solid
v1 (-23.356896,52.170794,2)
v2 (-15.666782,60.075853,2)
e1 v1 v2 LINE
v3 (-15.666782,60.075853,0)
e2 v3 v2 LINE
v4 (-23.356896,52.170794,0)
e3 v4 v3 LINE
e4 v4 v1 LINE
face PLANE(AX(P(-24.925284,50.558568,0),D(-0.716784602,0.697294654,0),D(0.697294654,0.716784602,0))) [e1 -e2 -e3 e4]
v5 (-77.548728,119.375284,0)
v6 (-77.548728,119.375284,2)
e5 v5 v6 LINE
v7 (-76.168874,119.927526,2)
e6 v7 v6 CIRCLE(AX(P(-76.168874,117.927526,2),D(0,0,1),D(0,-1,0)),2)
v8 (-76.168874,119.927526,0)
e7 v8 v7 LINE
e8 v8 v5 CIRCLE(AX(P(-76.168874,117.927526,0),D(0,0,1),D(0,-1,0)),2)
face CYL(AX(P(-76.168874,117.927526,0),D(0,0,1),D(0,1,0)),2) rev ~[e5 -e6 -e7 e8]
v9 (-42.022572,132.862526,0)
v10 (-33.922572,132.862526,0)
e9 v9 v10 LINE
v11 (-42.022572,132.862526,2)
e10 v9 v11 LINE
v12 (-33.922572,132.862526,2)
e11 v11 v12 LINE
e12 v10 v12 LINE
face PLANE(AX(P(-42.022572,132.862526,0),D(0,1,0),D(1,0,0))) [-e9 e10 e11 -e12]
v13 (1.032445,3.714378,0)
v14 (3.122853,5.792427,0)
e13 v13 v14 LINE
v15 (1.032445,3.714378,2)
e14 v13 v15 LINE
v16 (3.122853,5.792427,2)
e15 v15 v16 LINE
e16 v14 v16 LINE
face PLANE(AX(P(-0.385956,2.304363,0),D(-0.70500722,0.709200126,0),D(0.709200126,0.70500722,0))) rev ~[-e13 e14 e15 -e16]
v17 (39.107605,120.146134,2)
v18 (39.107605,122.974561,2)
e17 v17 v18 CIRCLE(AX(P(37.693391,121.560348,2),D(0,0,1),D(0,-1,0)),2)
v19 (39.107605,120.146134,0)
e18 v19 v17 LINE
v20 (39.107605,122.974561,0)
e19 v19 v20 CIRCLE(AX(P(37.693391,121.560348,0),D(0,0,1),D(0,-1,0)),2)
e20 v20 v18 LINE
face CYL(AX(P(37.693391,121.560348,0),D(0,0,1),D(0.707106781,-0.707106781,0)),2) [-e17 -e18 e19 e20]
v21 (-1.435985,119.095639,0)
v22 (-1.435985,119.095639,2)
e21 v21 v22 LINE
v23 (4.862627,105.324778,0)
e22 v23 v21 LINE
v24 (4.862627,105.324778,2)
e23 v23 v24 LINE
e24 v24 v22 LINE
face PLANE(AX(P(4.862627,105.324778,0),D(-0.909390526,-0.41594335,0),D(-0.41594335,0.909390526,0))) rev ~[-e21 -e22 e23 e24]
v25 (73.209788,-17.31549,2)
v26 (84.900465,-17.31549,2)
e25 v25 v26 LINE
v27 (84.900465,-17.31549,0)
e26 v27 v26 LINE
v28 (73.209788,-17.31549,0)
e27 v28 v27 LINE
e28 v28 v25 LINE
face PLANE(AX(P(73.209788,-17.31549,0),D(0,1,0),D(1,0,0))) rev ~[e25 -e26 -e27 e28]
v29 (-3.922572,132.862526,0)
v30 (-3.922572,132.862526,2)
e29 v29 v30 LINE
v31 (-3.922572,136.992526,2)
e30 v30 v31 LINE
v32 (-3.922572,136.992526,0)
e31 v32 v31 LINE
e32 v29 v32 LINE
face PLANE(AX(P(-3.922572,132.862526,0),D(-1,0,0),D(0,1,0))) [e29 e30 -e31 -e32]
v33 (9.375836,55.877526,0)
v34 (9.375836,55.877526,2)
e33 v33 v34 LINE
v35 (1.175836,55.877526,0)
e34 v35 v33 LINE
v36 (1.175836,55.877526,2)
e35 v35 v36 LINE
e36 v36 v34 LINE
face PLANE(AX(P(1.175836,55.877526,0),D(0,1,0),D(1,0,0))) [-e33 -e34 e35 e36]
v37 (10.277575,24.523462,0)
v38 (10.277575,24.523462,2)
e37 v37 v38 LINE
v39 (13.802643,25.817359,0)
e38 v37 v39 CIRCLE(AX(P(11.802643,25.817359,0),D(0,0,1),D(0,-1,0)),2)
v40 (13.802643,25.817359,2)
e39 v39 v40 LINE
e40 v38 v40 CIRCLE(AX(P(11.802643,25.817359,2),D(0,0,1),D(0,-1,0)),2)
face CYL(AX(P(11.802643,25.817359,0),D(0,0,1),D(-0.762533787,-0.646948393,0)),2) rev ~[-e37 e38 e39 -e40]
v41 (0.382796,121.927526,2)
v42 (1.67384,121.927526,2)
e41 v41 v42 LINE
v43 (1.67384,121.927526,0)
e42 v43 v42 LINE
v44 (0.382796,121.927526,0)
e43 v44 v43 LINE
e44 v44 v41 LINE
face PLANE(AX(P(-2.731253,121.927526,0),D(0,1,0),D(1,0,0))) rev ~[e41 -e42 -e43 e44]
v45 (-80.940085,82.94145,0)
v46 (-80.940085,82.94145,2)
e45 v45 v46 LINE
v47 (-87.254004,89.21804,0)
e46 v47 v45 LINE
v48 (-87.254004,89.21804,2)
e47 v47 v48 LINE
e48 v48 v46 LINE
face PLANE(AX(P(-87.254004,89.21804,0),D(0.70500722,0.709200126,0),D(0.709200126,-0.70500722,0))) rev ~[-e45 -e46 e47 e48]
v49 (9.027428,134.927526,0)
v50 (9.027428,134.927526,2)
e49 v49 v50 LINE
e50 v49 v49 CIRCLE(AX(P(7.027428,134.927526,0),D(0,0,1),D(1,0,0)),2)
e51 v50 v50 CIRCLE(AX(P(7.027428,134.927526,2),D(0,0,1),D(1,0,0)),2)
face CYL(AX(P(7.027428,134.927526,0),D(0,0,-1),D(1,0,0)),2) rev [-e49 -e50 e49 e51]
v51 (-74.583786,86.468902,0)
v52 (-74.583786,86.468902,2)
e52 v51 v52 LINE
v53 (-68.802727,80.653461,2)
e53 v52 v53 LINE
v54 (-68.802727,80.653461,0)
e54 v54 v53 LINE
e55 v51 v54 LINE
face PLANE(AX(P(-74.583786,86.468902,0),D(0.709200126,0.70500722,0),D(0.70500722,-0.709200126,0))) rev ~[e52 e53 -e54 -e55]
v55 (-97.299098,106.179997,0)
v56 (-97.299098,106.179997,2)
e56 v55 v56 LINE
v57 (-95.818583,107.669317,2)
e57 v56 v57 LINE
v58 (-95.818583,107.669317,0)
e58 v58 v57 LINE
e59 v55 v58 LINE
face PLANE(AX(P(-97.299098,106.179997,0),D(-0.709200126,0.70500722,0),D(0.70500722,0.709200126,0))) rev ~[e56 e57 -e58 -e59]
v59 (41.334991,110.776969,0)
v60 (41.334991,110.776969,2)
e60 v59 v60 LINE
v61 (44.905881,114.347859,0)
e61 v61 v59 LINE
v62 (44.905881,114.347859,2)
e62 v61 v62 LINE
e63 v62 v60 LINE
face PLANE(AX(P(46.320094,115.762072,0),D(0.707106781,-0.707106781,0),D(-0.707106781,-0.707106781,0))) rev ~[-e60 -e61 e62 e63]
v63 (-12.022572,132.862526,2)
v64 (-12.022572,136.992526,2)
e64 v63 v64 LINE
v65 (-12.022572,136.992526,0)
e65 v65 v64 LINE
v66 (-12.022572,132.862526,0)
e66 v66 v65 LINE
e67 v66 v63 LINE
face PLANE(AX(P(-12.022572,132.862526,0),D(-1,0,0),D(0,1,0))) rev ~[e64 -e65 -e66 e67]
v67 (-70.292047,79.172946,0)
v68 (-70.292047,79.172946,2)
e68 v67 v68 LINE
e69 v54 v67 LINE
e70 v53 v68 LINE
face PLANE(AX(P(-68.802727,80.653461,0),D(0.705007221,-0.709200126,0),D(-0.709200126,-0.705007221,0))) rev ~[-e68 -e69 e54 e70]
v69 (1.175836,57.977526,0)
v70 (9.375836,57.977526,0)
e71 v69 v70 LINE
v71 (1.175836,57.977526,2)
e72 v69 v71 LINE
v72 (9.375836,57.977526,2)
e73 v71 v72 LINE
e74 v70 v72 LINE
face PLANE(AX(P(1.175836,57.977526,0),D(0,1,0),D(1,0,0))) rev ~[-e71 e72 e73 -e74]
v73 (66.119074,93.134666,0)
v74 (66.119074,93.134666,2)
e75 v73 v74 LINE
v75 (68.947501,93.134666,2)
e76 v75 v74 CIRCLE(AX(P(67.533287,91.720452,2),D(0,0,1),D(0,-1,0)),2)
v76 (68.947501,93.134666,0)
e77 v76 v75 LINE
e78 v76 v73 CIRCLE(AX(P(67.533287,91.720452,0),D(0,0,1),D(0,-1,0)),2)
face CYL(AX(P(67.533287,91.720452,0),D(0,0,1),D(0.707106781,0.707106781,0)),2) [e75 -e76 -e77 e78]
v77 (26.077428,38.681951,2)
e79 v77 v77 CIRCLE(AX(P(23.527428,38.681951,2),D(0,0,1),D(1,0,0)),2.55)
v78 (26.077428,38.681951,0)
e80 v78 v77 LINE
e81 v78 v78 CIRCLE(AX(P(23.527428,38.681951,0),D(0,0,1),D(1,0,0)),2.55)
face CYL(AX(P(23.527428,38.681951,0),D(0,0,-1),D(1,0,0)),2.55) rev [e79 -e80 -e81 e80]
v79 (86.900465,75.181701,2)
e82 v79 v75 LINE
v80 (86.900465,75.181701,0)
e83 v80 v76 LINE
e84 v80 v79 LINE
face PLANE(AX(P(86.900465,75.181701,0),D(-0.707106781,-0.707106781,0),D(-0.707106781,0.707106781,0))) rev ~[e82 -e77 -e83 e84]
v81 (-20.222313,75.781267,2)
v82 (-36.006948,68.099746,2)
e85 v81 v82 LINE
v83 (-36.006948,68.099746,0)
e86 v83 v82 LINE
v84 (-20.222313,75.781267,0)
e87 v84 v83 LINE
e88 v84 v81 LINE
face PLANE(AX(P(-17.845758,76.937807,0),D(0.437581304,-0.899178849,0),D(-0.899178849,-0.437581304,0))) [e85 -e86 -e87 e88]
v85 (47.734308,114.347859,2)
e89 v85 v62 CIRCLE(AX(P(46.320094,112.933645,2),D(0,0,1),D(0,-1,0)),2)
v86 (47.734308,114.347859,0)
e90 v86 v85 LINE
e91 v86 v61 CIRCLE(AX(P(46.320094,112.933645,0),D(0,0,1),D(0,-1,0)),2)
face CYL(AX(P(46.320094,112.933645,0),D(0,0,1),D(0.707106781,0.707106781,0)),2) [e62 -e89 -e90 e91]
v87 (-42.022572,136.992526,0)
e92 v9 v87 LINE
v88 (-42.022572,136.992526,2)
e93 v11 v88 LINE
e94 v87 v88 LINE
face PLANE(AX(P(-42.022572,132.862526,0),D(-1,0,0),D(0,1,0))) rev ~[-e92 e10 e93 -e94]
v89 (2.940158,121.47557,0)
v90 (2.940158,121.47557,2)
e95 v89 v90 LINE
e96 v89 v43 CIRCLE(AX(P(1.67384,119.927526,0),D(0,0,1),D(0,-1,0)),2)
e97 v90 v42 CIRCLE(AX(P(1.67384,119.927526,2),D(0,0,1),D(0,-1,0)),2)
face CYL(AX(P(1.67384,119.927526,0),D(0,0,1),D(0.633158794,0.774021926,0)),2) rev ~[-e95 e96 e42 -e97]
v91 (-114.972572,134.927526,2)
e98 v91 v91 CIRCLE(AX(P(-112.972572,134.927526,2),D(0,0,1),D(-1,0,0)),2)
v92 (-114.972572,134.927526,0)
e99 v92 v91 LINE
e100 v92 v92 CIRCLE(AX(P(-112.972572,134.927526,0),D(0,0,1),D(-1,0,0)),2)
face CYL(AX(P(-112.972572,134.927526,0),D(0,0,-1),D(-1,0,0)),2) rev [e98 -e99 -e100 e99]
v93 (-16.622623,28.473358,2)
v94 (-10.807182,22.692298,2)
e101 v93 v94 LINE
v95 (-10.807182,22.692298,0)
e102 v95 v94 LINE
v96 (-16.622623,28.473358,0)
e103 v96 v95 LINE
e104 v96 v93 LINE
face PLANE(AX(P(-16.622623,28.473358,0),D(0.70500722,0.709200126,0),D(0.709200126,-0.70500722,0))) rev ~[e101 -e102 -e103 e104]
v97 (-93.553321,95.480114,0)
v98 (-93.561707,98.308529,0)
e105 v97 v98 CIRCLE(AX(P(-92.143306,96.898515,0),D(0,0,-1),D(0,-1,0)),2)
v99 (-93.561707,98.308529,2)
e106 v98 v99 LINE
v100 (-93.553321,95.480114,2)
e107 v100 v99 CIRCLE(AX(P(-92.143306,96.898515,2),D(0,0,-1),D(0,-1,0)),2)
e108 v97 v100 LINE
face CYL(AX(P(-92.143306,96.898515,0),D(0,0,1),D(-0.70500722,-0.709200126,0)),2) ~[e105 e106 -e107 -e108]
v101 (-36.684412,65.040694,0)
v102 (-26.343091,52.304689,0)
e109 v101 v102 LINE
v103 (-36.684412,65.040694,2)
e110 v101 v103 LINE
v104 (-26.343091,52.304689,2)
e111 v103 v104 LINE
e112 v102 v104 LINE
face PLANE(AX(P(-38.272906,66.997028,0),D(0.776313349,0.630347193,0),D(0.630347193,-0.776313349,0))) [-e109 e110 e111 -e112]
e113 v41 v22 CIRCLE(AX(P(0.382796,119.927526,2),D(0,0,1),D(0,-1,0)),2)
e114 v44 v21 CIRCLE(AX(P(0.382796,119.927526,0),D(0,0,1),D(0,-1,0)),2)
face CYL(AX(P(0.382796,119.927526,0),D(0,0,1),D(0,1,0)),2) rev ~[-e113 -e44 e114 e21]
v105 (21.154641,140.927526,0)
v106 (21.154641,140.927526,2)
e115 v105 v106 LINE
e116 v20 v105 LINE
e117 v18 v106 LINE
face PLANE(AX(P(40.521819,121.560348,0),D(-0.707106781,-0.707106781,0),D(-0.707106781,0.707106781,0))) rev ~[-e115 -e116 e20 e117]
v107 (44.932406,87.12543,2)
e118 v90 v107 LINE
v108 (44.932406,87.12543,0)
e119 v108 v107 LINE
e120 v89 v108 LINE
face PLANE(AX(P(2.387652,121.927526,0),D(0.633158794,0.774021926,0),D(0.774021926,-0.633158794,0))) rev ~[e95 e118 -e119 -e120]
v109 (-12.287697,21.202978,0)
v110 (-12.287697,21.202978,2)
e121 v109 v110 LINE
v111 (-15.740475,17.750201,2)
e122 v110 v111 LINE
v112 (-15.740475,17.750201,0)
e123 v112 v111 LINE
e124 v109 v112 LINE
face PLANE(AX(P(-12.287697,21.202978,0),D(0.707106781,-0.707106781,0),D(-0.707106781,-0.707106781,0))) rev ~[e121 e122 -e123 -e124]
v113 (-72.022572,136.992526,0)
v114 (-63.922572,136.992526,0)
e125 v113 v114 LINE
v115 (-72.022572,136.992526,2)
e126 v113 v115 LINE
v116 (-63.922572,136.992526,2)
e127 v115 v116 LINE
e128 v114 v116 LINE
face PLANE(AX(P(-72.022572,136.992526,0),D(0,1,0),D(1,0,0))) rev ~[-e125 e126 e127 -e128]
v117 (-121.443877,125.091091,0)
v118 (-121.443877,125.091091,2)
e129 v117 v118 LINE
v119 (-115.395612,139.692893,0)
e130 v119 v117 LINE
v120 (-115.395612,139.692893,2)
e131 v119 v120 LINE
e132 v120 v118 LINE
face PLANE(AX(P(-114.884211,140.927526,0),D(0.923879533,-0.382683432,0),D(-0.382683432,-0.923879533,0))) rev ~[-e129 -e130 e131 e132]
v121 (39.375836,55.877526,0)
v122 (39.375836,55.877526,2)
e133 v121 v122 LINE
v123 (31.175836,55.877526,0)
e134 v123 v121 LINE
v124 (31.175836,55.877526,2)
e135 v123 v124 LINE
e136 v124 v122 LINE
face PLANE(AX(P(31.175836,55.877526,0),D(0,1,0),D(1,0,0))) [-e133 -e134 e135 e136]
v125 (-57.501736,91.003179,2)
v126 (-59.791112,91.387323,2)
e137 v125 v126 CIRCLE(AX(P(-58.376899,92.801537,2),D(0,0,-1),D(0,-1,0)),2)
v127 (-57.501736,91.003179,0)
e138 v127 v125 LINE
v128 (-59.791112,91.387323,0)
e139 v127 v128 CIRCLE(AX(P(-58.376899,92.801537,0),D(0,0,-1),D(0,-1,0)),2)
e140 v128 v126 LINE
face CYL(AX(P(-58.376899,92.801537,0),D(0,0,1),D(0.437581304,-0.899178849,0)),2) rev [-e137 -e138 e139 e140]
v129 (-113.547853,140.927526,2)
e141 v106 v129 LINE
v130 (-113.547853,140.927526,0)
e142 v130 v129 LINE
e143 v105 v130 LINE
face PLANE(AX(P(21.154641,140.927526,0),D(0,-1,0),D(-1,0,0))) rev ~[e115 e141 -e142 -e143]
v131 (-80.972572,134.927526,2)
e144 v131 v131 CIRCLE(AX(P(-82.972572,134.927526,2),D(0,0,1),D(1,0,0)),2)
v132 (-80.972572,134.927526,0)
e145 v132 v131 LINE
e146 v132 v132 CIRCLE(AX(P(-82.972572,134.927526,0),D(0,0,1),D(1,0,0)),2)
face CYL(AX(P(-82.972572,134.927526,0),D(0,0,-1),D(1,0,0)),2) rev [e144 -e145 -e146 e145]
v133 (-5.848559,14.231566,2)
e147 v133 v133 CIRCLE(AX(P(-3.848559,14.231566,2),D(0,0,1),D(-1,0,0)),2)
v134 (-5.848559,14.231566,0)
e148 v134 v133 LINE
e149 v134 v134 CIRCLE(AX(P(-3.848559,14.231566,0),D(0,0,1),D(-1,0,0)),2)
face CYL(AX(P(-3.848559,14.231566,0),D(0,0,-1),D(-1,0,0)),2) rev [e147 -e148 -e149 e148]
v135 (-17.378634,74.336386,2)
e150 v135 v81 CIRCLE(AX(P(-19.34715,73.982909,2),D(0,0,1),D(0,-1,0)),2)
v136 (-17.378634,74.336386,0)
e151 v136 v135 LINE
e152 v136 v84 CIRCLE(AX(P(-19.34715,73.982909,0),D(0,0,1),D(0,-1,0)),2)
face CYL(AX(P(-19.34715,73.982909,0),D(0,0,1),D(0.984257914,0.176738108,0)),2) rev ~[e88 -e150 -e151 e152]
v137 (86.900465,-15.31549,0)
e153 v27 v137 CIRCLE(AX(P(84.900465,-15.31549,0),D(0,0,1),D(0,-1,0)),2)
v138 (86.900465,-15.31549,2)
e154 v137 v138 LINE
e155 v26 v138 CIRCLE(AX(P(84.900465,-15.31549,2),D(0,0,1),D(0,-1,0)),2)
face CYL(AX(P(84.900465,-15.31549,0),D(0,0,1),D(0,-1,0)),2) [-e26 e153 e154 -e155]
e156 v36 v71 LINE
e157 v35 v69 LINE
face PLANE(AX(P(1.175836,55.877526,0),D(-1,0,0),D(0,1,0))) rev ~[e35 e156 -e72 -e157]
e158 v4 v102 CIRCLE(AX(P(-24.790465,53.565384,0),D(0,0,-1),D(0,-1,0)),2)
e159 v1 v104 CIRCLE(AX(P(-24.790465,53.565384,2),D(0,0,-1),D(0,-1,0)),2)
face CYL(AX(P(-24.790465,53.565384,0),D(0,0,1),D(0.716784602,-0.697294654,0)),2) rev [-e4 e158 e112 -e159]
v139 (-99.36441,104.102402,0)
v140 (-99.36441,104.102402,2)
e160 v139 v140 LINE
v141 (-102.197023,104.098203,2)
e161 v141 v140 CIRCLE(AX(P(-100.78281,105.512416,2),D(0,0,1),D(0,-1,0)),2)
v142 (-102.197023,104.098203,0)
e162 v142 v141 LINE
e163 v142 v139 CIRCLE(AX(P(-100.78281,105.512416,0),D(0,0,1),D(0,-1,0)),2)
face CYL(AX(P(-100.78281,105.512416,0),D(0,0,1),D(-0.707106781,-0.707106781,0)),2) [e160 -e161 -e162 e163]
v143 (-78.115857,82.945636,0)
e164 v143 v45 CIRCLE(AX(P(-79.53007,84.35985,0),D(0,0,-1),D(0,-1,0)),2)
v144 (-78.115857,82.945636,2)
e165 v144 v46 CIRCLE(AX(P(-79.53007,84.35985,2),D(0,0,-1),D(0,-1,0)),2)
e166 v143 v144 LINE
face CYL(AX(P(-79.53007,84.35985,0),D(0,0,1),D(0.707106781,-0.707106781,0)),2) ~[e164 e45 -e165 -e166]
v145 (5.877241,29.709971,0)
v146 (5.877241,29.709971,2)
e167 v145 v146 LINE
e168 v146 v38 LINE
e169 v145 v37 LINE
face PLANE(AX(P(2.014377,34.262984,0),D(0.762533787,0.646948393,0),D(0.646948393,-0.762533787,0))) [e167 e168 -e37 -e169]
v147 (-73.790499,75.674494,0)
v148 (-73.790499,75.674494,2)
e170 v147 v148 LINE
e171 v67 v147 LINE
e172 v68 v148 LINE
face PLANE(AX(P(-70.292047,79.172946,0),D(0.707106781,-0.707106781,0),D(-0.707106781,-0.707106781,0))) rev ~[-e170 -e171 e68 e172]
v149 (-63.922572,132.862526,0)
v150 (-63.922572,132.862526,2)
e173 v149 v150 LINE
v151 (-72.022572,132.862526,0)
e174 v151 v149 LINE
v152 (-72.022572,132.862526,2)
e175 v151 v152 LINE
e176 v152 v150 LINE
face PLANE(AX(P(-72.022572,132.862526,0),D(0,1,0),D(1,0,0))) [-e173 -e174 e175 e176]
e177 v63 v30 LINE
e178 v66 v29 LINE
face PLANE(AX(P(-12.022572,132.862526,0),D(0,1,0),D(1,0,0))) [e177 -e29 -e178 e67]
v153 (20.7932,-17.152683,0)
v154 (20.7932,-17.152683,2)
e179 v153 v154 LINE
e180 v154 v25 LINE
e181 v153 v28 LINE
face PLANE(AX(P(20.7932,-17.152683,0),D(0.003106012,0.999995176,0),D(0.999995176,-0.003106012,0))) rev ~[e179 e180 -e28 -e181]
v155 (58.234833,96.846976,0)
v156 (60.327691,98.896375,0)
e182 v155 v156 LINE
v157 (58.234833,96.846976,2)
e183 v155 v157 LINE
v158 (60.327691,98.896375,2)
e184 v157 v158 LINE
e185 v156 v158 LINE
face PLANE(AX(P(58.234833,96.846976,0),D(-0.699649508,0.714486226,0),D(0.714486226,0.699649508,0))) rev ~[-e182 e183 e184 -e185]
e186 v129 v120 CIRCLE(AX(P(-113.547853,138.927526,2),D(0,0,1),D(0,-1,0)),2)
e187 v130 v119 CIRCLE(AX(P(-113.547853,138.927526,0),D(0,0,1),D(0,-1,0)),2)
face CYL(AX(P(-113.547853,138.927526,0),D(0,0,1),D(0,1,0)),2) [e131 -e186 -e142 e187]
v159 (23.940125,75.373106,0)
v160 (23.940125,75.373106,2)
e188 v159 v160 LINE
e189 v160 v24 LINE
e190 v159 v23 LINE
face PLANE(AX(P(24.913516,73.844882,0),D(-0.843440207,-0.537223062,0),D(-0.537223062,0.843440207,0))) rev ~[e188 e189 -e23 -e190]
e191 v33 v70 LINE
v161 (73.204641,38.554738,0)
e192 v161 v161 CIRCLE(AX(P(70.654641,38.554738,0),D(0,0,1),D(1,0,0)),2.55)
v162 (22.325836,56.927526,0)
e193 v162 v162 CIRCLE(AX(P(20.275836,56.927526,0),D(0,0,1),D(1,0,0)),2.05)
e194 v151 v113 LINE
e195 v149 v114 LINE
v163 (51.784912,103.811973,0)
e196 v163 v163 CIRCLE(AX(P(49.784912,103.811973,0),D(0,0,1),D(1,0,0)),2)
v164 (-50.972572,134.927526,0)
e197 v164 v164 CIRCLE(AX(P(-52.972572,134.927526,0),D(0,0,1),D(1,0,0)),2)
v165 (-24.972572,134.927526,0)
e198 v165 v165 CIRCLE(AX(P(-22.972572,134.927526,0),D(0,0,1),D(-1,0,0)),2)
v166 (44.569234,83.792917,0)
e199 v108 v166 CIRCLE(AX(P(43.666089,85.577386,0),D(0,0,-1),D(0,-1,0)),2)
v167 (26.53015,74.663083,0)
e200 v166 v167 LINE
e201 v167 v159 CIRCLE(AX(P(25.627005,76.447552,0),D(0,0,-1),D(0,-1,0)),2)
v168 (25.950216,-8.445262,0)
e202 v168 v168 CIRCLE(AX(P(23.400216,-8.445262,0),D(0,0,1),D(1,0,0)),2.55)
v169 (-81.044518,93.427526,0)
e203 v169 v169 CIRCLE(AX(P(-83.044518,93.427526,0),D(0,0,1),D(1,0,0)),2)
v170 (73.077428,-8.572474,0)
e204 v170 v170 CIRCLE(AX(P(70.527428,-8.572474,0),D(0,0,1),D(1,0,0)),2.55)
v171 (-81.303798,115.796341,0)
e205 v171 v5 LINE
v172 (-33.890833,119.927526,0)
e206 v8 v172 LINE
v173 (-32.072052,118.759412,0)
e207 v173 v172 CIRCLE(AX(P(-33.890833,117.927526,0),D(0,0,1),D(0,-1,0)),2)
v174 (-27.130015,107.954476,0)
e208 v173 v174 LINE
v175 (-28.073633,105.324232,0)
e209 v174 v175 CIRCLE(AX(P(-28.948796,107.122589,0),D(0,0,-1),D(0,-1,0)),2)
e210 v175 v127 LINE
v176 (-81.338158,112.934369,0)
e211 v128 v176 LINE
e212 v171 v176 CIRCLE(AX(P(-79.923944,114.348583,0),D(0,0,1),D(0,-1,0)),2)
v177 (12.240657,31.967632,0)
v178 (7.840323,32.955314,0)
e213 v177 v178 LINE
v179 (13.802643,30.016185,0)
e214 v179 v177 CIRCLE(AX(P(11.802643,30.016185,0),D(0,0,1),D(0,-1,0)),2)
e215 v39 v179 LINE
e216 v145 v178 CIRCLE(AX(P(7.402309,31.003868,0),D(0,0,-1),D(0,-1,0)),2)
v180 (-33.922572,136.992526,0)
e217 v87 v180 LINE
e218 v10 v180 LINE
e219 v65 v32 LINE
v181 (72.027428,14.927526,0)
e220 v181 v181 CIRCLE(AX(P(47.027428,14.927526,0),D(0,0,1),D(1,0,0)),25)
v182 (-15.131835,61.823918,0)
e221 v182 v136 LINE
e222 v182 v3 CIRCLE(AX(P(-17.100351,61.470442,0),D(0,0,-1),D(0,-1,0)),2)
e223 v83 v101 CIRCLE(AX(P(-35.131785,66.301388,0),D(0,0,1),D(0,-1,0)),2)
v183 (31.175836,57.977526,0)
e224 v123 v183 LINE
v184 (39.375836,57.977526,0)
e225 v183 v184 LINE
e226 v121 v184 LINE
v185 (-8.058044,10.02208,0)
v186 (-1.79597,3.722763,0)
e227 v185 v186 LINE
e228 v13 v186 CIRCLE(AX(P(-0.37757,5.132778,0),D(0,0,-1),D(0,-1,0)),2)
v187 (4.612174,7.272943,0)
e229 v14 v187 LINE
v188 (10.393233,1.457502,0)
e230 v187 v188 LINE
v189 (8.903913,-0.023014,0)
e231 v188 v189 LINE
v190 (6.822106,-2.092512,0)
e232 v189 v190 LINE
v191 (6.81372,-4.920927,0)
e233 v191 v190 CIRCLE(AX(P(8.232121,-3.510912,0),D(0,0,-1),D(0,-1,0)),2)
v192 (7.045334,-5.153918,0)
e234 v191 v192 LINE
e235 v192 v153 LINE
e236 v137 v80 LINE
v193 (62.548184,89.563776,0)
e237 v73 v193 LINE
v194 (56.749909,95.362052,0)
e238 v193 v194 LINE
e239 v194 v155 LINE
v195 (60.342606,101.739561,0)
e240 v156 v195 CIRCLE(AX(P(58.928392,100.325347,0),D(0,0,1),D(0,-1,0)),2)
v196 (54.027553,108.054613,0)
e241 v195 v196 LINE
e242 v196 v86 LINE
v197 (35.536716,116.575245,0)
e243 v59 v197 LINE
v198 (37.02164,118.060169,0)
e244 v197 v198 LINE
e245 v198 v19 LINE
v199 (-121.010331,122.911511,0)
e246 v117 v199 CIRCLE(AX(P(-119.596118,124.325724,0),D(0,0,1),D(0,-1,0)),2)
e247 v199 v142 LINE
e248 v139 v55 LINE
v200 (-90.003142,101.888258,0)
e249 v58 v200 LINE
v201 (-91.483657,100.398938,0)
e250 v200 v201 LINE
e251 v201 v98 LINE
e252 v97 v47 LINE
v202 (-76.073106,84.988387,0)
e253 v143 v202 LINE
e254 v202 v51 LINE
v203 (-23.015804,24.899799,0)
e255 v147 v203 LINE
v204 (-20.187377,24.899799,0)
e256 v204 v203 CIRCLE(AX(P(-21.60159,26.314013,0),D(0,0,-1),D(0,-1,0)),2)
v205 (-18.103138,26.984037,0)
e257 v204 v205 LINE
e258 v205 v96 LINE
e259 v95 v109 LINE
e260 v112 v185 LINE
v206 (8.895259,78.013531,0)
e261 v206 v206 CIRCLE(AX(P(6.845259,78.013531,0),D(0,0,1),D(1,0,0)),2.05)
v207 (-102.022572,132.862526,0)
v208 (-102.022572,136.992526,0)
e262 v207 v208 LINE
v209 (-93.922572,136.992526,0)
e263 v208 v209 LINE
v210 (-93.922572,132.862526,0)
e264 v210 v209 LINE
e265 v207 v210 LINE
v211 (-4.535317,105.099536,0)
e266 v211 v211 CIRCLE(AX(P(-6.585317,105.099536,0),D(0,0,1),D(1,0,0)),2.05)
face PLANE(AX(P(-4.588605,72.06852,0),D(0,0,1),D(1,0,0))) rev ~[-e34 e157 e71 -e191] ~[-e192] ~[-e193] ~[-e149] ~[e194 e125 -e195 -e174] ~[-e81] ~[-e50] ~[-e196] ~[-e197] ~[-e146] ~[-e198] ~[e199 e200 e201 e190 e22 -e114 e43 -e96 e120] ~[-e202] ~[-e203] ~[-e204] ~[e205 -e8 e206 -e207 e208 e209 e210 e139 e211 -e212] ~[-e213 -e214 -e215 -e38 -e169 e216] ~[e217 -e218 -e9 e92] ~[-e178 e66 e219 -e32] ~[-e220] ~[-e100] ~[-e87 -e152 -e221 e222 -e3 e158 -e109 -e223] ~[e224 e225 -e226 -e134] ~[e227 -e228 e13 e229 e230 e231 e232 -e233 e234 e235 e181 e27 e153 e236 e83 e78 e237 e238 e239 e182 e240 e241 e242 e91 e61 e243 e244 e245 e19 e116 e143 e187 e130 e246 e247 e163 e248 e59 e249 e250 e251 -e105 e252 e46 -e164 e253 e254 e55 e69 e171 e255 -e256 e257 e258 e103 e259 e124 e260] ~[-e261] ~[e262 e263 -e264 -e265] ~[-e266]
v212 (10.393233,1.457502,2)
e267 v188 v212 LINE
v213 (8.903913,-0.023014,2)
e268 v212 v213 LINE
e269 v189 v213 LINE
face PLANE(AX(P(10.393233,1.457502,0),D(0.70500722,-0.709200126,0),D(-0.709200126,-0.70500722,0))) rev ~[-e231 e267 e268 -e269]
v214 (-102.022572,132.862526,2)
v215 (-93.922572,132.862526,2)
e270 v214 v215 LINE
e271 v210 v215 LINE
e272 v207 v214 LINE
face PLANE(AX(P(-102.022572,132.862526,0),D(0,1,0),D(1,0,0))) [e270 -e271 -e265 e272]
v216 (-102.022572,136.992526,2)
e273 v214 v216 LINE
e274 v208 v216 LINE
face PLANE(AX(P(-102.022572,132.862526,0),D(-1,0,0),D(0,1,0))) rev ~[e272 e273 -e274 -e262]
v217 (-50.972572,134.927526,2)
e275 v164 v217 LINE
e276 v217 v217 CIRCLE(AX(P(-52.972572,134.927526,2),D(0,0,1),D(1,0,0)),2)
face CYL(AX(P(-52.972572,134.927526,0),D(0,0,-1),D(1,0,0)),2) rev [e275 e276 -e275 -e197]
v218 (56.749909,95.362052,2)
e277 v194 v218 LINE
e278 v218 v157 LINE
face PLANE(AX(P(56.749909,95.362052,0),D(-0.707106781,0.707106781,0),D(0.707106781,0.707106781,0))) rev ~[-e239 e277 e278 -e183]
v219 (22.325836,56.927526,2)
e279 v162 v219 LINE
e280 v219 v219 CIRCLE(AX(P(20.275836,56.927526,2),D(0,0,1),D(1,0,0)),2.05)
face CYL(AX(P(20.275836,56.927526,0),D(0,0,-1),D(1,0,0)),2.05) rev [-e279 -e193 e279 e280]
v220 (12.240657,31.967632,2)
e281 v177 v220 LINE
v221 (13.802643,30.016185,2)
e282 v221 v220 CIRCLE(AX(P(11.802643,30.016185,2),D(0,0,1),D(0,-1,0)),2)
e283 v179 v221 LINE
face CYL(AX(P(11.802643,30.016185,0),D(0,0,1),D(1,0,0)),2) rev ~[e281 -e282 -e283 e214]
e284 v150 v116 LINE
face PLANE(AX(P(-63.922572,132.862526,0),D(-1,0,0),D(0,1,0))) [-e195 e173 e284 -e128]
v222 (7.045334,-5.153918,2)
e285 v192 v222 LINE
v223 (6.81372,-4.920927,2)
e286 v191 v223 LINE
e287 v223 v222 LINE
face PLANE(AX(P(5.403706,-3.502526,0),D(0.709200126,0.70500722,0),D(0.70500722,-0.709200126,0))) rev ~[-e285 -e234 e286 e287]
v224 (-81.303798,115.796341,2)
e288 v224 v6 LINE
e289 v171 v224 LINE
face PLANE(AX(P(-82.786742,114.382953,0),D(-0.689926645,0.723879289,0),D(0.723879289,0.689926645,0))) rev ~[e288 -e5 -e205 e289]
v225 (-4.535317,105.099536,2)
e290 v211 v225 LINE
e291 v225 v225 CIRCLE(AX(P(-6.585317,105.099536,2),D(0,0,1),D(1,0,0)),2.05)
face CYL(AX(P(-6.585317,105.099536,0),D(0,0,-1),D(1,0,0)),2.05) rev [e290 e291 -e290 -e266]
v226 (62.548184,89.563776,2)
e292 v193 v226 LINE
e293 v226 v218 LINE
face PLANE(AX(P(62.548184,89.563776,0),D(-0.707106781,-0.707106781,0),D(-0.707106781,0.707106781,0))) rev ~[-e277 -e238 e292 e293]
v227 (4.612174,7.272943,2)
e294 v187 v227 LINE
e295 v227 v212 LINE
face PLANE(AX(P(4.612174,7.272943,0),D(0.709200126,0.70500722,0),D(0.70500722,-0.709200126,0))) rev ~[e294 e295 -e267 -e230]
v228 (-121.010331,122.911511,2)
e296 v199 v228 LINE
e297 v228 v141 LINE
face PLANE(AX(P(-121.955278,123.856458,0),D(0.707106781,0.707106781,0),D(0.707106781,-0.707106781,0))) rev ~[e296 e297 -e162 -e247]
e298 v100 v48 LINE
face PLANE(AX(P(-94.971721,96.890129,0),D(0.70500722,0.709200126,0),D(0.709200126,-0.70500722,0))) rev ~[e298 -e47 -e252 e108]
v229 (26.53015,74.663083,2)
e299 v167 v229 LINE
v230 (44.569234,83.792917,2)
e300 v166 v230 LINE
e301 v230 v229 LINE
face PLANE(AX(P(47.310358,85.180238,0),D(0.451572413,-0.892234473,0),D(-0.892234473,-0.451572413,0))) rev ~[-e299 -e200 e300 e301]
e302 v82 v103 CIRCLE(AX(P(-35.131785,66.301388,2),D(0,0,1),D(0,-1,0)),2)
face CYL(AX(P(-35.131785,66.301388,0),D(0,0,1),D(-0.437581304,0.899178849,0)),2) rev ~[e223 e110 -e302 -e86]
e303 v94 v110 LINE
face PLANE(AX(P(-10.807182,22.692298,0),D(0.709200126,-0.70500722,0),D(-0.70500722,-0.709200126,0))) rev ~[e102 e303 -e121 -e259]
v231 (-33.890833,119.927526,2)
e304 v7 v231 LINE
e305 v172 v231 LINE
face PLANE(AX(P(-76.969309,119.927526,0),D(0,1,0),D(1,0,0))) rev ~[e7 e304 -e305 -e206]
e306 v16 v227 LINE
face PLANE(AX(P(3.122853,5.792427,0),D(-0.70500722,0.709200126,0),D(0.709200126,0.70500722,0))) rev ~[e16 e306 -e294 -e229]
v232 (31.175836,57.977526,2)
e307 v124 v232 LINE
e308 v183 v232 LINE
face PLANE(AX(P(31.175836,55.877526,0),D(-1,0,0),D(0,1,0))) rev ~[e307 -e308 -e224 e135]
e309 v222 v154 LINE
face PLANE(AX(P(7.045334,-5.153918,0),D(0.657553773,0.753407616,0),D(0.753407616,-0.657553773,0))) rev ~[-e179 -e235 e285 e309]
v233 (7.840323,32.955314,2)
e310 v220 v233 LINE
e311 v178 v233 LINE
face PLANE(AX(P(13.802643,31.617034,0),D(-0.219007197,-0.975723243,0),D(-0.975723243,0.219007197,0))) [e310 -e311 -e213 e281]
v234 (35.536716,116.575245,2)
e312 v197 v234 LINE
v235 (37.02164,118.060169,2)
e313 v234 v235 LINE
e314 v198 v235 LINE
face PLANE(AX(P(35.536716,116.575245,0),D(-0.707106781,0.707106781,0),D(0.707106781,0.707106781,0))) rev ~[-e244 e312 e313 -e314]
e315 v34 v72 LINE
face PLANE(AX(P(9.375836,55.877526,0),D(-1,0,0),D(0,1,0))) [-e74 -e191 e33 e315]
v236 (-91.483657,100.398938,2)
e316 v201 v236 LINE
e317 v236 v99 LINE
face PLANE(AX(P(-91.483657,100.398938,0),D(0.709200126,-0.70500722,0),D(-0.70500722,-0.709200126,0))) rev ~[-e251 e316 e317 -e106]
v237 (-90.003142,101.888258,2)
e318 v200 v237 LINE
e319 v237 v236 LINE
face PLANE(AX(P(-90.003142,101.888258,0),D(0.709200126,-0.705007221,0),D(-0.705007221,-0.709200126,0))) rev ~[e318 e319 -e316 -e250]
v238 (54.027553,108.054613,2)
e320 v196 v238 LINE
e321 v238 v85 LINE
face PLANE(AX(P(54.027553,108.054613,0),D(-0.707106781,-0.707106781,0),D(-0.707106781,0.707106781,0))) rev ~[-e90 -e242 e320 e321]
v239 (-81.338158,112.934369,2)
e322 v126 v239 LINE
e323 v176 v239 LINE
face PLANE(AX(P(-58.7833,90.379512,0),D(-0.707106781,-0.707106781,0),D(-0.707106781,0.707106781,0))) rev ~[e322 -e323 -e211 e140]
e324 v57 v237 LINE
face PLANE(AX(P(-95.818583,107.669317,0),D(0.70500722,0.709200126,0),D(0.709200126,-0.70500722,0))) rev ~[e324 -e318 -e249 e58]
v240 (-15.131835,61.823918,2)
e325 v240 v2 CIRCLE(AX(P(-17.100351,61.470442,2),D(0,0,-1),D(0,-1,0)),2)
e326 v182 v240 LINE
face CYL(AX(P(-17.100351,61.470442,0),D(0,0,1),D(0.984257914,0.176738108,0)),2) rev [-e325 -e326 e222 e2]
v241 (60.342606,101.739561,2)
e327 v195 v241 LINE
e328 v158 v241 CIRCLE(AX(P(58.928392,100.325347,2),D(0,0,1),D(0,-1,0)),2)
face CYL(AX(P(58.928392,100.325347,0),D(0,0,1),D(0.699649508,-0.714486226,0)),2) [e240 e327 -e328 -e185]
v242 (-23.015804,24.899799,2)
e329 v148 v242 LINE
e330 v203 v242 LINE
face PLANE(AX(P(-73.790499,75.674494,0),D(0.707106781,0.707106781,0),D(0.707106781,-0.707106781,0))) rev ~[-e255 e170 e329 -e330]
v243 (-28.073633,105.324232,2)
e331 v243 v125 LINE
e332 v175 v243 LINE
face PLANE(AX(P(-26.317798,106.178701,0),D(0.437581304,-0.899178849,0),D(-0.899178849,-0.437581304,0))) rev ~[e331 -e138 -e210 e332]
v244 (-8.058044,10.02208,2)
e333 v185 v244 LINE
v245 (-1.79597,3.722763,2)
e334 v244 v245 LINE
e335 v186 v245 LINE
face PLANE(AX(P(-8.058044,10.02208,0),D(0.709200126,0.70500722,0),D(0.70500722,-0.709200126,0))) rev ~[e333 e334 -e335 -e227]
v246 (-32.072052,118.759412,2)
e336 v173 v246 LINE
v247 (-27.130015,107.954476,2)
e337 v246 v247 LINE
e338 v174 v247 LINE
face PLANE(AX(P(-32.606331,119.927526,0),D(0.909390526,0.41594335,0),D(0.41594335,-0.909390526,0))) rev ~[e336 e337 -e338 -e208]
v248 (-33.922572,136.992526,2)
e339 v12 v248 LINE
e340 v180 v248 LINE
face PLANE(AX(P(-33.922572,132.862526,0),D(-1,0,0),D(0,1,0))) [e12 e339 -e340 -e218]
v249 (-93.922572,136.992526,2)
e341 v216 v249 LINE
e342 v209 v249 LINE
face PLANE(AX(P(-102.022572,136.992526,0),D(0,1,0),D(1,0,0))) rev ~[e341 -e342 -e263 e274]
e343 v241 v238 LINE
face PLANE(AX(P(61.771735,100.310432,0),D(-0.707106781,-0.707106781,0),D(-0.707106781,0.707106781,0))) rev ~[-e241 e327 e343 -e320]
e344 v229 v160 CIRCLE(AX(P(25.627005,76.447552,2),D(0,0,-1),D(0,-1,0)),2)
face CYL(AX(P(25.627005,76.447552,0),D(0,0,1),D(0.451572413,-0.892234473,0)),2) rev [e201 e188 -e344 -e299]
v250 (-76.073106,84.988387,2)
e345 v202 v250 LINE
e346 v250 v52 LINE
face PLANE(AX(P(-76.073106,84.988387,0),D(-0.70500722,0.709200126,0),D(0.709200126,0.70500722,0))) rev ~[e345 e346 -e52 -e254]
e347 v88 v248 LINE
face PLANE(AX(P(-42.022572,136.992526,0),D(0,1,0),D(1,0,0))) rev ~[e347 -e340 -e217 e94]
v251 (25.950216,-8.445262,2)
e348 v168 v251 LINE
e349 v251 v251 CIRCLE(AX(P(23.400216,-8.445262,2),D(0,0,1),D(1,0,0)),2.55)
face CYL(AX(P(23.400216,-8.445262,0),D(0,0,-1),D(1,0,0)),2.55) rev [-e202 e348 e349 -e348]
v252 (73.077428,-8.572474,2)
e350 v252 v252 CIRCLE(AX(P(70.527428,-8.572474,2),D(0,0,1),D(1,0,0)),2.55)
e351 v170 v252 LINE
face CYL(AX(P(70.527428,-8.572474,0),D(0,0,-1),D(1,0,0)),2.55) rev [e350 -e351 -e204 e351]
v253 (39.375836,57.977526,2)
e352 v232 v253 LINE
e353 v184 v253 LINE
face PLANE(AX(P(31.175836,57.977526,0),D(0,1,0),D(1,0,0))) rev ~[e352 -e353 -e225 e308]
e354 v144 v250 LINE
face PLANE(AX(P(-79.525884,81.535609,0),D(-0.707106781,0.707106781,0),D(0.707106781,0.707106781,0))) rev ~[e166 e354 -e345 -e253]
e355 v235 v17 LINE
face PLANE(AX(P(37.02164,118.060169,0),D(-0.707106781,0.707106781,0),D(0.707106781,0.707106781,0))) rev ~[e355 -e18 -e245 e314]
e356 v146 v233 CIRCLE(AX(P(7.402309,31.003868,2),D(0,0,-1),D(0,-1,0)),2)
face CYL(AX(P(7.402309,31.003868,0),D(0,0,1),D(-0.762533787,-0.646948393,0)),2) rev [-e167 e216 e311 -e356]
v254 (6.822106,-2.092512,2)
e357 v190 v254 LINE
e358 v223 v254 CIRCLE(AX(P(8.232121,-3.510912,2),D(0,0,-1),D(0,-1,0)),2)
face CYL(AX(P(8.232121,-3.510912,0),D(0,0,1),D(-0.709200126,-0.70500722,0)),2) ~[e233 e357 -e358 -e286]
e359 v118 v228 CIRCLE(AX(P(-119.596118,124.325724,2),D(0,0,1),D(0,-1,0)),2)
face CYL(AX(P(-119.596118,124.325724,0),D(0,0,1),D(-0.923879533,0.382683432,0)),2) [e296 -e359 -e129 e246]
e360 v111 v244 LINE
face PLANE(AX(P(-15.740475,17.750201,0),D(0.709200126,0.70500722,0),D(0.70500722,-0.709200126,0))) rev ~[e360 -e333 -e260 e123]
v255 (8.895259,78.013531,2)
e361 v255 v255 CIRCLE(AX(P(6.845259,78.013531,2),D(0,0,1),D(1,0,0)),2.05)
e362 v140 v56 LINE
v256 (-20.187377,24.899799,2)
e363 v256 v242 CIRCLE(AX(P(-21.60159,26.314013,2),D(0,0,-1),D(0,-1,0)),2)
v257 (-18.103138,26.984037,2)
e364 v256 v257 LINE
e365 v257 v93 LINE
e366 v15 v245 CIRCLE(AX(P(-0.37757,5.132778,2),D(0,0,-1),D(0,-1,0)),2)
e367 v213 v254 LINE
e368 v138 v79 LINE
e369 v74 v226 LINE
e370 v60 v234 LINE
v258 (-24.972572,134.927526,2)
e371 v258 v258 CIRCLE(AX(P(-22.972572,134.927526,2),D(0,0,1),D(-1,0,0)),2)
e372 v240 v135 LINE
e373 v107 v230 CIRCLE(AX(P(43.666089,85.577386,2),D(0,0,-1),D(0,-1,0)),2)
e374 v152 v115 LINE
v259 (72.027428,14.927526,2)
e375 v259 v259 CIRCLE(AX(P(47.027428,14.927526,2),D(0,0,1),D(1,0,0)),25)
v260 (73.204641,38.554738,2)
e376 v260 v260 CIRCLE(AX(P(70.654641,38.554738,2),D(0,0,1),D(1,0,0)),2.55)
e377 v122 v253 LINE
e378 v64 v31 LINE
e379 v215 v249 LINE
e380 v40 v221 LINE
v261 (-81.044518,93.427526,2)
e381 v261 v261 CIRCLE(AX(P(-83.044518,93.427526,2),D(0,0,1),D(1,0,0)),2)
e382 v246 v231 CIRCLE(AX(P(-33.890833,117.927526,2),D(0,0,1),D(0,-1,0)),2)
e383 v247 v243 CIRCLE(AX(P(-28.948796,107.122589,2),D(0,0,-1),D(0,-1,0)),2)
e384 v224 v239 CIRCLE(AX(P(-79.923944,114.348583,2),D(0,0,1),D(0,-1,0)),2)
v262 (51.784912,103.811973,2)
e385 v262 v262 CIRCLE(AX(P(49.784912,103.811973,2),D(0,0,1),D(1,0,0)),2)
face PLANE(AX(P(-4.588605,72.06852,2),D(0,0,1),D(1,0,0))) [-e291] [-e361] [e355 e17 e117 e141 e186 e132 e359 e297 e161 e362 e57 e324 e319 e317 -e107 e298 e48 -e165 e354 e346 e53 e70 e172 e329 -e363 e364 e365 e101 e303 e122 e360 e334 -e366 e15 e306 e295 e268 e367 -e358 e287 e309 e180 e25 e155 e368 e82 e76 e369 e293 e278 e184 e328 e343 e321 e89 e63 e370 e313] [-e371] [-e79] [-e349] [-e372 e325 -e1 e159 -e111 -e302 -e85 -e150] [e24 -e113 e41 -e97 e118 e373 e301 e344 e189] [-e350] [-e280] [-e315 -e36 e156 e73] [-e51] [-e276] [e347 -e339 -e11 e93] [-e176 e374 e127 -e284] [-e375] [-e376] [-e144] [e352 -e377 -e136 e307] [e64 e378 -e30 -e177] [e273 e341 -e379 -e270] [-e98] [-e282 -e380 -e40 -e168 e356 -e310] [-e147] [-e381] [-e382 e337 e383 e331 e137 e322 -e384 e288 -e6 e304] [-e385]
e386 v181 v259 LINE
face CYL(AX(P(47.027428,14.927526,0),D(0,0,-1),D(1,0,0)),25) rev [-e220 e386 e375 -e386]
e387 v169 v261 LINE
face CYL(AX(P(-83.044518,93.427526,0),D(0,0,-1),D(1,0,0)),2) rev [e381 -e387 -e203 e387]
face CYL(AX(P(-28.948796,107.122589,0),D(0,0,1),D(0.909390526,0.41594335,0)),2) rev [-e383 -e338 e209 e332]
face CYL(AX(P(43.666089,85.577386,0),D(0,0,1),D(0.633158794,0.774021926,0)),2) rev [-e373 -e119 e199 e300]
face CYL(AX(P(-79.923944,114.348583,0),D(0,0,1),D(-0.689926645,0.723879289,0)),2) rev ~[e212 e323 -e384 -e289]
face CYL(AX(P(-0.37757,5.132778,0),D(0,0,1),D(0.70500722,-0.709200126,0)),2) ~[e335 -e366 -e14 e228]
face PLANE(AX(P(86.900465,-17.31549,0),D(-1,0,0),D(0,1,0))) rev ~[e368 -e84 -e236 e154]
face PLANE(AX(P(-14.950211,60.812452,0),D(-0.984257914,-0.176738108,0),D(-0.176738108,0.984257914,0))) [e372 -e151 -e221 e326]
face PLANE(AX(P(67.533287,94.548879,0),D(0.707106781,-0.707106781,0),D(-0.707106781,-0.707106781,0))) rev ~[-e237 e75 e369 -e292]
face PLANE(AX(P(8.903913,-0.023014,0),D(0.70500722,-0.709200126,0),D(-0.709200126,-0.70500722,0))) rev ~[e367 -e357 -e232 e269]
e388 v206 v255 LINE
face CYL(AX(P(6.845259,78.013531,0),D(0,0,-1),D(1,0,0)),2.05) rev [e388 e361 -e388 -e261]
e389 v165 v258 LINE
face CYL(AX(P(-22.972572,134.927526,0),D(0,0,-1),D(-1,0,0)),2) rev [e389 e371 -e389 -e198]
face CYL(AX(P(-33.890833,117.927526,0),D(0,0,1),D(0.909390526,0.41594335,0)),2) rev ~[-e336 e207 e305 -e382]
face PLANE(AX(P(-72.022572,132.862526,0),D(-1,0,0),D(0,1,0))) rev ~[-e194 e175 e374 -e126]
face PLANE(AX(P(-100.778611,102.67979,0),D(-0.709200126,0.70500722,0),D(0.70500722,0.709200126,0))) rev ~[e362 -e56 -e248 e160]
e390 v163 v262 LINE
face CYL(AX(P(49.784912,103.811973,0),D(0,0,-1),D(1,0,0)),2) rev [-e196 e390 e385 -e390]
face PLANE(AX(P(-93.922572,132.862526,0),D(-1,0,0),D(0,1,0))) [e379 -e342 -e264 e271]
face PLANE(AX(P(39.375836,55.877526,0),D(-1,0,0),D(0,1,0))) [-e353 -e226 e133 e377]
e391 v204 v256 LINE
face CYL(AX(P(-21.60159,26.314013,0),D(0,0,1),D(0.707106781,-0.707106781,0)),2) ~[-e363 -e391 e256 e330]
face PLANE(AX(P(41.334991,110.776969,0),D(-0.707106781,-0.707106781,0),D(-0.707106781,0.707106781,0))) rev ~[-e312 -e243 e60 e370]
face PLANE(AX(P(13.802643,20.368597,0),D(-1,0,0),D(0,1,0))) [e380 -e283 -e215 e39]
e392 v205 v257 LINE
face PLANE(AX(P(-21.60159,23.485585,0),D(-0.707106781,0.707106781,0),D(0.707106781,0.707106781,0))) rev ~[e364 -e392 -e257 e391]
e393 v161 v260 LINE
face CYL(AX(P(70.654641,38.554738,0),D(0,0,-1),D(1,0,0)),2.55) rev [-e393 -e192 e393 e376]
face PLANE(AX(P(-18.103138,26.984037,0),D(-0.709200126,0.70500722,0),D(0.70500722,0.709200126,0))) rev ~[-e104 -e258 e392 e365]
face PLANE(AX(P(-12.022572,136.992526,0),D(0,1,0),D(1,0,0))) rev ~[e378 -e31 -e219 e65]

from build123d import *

# Parameters (mm, degrees)
SKETCH_1_R      = 2
SKETCH_1_R_2    = 25
SKETCH_1_R_3    = 2.05
SKETCH_1_R_4    = 2.55
SKETCH_1_W      = 8.1
SKETCH_1_H      = 4.13
SKETCH_1_W_2    = 8.2
SKETCH_1_H_2    = 2.1
EXTRUDE_1_DEPTH = 2
FILLET_2_R      = 2


with BuildPart() as part:
    # 草图1 → 凸台-拉伸1 (new body)
    with BuildSketch(Plane.XY):
        Polygon((7.045333707, -5.153917555), (20.793199876, -17.15268299), (73.209787659, -17.315490317), (86.900465187, -17.315490317), (86.900465187, 75.181701178), (67.533287282, 94.548879082), (64.033108715, 91.048700515), (62.548184475, 89.563776275), (56.749908869, 95.362051881), (58.234833109, 96.846976121), (61.771734574, 100.31043179), (54.027552903, 108.054613461), (46.320094131, 115.762072234), (42.819915564, 112.261893667), (41.334991323, 110.776969426), (35.536715718, 116.575245032), (37.021639958, 118.060169273), (40.521818525, 121.560347839), (21.15464062, 140.927525744), (-114.884210676, 140.927525744), (-121.955278488, 123.856457932), (-100.778610768, 102.679790212), (-97.299097838, 106.179996932), (-95.818582675, 107.669317198), (-90.003141638, 101.888257991), (-91.483656801, 100.398937726), (-94.97172112, 96.890128759), (-87.254003865, 89.218039899), (-79.525883533, 81.535609468), (-76.073106039, 84.988386963), (-74.583785773, 86.468902126), (-68.802726567, 80.653461089), (-70.292046832, 79.172945926), (-73.790498852, 75.674493907), (-21.601590364, 23.48558542), (-18.103138345, 26.984037439), (-16.622623182, 28.473357705), (-10.807182146, 22.692298498), (-12.287697308, 21.202978233), (-15.740474803, 17.750200738), (-8.058044372, 10.022080406), (-0.385955513, 2.304363151), (3.122853454, 5.79242747), (4.61217372, 7.272942633), (10.393232926, 1.457501596), (8.903912661, -0.023013566), (5.403705941, -3.502526497), align=None)
        with Locations((-52.972571837, 134.927525744)):
            Circle(SKETCH_1_R, mode=Mode.SUBTRACT)
        with Locations((47.027428163, 14.927525744)):
            Circle(SKETCH_1_R_2, mode=Mode.SUBTRACT)
        with Locations(Location((-22.972571837, 134.927525744, 0), (0, 0, 180))):
            Circle(SKETCH_1_R, mode=Mode.SUBTRACT)
        with Locations((7.027428163, 134.927525744)):
            Circle(SKETCH_1_R, mode=Mode.SUBTRACT)
        with Locations(Location((-112.972571837, 134.927525744, 0), (0, 0, 180))):
            Circle(SKETCH_1_R, mode=Mode.SUBTRACT)
        with Locations((-82.972571837, 134.927525744)):
            Circle(SKETCH_1_R, mode=Mode.SUBTRACT)
        with Locations((49.784912216, 103.811972774)):
            Circle(SKETCH_1_R, mode=Mode.SUBTRACT)
        with Locations((-83.04451802, 93.427525744)):
            Circle(SKETCH_1_R, mode=Mode.SUBTRACT)
        with Locations((20.275835807, 56.927525744)):
            Circle(SKETCH_1_R_3, mode=Mode.SUBTRACT)
        with Locations((70.527428163, -8.572474256)):
            Circle(SKETCH_1_R_4, mode=Mode.SUBTRACT)
        with Locations((23.400215706, -8.445261799)):
            Circle(SKETCH_1_R_4, mode=Mode.SUBTRACT)
        with Locations((23.527428163, 38.681950658)):
            Circle(SKETCH_1_R_4, mode=Mode.SUBTRACT)
        with Locations((70.65464062, 38.554738201)):
            Circle(SKETCH_1_R_4, mode=Mode.SUBTRACT)
        with Locations((6.845259268, 78.01353091)):
            Circle(SKETCH_1_R_3, mode=Mode.SUBTRACT)
        with Locations(Location((-3.848558527, 14.231566251, 0), (0, 0, 180))):
            Circle(SKETCH_1_R, mode=Mode.SUBTRACT)
        with Locations((-6.58531727, 105.099536075)):
            Circle(SKETCH_1_R_3, mode=Mode.SUBTRACT)
        with Locations((-37.972571837, 134.927525744)):
            Rectangle(SKETCH_1_W, SKETCH_1_H, mode=Mode.SUBTRACT)
        with Locations((-7.972571837, 134.927525744)):
            Rectangle(SKETCH_1_W, SKETCH_1_H, mode=Mode.SUBTRACT)
        with Locations((-97.972571837, 134.927525744)):
            Rectangle(SKETCH_1_W, SKETCH_1_H, mode=Mode.SUBTRACT)
        with Locations((-67.972571837, 134.927525744)):
            Rectangle(SKETCH_1_W, SKETCH_1_H, mode=Mode.SUBTRACT)
        with Locations((5.275835807, 56.927525744)):
            Rectangle(SKETCH_1_W_2, SKETCH_1_H_2, mode=Mode.SUBTRACT)
        with Locations((35.275835807, 56.927525744)):
            Rectangle(SKETCH_1_W_2, SKETCH_1_H_2, mode=Mode.SUBTRACT)
        Polygon((-26.317798475, 106.178700743), (-58.783300448, 90.379511607), (-82.786741677, 114.382952836), (-76.96930946, 119.927525744), (-32.606331473, 119.927525744), align=None, mode=Mode.SUBTRACT)
        Polygon((47.310357667, 85.180238498), (24.91351613, 73.844882053), (4.862626833, 105.32477825), (-2.731253041, 121.927525744), (2.38765218, 121.927525744), align=None, mode=Mode.SUBTRACT)
        Polygon((-14.950211349, 60.812452014), (-17.845757969, 76.937806676), (-38.27290612, 66.997027771), (-24.925284185, 50.558567838), align=None, mode=Mode.SUBTRACT)
        Polygon((2.01437662, 34.262984309), (13.802642778, 20.368597473), (13.802642778, 31.617034086), align=None, mode=Mode.SUBTRACT)
    extrude(amount=EXTRUDE_1_DEPTH)

    # 圆角2
    fillet_2_edges = [part.edges().sort_by_distance(p)[0] for p in [
        (-26.317798475, 106.178700743, 1),
        (-32.606331473, 119.927525744, 1),
        (-76.96930946, 119.927525744, 1),
        (-82.786741677, 114.382952836, 1),
        (-58.783300448, 90.379511607, 1),
        (47.310357667, 85.180238498, 1),
        (2.38765218, 121.927525744, 1),
        (-2.731253041, 121.927525744, 1),
        (24.91351613, 73.844882053, 1),
        (-24.925284185, 50.558567838, 1),
        (-14.950211349, 60.812452014, 1),
        (-17.845757969, 76.937806676, 1),
        (-38.27290612, 66.997027771, 1),
        (13.802642778, 31.617034086, 1),
        (2.01437662, 34.262984309, 1),
        (13.802642778, 20.368597473, 1),
        (40.521818525, 121.560347839, 1),
        (46.320094131, 115.762072234, 1),
        (61.771734574, 100.31043179, 1),
        (67.533287282, 94.548879082, 1),
        (86.900465187, -17.315490317, 1),
        (5.403705941, -3.502526497, 1),
        (-0.385955513, 2.304363151, 1),
        (-21.601590364, 23.48558542, 1),
        (-79.525883533, 81.535609468, 1),
        (-94.97172112, 96.890128759, 1),
        (-100.778610768, 102.679790212, 1),
        (-121.955278488, 123.856457932, 1),
        (-114.884210676, 140.927525744, 1),
    ]]
    fillet(fillet_2_edges, radius=FILLET_2_R)


solid = part.part
